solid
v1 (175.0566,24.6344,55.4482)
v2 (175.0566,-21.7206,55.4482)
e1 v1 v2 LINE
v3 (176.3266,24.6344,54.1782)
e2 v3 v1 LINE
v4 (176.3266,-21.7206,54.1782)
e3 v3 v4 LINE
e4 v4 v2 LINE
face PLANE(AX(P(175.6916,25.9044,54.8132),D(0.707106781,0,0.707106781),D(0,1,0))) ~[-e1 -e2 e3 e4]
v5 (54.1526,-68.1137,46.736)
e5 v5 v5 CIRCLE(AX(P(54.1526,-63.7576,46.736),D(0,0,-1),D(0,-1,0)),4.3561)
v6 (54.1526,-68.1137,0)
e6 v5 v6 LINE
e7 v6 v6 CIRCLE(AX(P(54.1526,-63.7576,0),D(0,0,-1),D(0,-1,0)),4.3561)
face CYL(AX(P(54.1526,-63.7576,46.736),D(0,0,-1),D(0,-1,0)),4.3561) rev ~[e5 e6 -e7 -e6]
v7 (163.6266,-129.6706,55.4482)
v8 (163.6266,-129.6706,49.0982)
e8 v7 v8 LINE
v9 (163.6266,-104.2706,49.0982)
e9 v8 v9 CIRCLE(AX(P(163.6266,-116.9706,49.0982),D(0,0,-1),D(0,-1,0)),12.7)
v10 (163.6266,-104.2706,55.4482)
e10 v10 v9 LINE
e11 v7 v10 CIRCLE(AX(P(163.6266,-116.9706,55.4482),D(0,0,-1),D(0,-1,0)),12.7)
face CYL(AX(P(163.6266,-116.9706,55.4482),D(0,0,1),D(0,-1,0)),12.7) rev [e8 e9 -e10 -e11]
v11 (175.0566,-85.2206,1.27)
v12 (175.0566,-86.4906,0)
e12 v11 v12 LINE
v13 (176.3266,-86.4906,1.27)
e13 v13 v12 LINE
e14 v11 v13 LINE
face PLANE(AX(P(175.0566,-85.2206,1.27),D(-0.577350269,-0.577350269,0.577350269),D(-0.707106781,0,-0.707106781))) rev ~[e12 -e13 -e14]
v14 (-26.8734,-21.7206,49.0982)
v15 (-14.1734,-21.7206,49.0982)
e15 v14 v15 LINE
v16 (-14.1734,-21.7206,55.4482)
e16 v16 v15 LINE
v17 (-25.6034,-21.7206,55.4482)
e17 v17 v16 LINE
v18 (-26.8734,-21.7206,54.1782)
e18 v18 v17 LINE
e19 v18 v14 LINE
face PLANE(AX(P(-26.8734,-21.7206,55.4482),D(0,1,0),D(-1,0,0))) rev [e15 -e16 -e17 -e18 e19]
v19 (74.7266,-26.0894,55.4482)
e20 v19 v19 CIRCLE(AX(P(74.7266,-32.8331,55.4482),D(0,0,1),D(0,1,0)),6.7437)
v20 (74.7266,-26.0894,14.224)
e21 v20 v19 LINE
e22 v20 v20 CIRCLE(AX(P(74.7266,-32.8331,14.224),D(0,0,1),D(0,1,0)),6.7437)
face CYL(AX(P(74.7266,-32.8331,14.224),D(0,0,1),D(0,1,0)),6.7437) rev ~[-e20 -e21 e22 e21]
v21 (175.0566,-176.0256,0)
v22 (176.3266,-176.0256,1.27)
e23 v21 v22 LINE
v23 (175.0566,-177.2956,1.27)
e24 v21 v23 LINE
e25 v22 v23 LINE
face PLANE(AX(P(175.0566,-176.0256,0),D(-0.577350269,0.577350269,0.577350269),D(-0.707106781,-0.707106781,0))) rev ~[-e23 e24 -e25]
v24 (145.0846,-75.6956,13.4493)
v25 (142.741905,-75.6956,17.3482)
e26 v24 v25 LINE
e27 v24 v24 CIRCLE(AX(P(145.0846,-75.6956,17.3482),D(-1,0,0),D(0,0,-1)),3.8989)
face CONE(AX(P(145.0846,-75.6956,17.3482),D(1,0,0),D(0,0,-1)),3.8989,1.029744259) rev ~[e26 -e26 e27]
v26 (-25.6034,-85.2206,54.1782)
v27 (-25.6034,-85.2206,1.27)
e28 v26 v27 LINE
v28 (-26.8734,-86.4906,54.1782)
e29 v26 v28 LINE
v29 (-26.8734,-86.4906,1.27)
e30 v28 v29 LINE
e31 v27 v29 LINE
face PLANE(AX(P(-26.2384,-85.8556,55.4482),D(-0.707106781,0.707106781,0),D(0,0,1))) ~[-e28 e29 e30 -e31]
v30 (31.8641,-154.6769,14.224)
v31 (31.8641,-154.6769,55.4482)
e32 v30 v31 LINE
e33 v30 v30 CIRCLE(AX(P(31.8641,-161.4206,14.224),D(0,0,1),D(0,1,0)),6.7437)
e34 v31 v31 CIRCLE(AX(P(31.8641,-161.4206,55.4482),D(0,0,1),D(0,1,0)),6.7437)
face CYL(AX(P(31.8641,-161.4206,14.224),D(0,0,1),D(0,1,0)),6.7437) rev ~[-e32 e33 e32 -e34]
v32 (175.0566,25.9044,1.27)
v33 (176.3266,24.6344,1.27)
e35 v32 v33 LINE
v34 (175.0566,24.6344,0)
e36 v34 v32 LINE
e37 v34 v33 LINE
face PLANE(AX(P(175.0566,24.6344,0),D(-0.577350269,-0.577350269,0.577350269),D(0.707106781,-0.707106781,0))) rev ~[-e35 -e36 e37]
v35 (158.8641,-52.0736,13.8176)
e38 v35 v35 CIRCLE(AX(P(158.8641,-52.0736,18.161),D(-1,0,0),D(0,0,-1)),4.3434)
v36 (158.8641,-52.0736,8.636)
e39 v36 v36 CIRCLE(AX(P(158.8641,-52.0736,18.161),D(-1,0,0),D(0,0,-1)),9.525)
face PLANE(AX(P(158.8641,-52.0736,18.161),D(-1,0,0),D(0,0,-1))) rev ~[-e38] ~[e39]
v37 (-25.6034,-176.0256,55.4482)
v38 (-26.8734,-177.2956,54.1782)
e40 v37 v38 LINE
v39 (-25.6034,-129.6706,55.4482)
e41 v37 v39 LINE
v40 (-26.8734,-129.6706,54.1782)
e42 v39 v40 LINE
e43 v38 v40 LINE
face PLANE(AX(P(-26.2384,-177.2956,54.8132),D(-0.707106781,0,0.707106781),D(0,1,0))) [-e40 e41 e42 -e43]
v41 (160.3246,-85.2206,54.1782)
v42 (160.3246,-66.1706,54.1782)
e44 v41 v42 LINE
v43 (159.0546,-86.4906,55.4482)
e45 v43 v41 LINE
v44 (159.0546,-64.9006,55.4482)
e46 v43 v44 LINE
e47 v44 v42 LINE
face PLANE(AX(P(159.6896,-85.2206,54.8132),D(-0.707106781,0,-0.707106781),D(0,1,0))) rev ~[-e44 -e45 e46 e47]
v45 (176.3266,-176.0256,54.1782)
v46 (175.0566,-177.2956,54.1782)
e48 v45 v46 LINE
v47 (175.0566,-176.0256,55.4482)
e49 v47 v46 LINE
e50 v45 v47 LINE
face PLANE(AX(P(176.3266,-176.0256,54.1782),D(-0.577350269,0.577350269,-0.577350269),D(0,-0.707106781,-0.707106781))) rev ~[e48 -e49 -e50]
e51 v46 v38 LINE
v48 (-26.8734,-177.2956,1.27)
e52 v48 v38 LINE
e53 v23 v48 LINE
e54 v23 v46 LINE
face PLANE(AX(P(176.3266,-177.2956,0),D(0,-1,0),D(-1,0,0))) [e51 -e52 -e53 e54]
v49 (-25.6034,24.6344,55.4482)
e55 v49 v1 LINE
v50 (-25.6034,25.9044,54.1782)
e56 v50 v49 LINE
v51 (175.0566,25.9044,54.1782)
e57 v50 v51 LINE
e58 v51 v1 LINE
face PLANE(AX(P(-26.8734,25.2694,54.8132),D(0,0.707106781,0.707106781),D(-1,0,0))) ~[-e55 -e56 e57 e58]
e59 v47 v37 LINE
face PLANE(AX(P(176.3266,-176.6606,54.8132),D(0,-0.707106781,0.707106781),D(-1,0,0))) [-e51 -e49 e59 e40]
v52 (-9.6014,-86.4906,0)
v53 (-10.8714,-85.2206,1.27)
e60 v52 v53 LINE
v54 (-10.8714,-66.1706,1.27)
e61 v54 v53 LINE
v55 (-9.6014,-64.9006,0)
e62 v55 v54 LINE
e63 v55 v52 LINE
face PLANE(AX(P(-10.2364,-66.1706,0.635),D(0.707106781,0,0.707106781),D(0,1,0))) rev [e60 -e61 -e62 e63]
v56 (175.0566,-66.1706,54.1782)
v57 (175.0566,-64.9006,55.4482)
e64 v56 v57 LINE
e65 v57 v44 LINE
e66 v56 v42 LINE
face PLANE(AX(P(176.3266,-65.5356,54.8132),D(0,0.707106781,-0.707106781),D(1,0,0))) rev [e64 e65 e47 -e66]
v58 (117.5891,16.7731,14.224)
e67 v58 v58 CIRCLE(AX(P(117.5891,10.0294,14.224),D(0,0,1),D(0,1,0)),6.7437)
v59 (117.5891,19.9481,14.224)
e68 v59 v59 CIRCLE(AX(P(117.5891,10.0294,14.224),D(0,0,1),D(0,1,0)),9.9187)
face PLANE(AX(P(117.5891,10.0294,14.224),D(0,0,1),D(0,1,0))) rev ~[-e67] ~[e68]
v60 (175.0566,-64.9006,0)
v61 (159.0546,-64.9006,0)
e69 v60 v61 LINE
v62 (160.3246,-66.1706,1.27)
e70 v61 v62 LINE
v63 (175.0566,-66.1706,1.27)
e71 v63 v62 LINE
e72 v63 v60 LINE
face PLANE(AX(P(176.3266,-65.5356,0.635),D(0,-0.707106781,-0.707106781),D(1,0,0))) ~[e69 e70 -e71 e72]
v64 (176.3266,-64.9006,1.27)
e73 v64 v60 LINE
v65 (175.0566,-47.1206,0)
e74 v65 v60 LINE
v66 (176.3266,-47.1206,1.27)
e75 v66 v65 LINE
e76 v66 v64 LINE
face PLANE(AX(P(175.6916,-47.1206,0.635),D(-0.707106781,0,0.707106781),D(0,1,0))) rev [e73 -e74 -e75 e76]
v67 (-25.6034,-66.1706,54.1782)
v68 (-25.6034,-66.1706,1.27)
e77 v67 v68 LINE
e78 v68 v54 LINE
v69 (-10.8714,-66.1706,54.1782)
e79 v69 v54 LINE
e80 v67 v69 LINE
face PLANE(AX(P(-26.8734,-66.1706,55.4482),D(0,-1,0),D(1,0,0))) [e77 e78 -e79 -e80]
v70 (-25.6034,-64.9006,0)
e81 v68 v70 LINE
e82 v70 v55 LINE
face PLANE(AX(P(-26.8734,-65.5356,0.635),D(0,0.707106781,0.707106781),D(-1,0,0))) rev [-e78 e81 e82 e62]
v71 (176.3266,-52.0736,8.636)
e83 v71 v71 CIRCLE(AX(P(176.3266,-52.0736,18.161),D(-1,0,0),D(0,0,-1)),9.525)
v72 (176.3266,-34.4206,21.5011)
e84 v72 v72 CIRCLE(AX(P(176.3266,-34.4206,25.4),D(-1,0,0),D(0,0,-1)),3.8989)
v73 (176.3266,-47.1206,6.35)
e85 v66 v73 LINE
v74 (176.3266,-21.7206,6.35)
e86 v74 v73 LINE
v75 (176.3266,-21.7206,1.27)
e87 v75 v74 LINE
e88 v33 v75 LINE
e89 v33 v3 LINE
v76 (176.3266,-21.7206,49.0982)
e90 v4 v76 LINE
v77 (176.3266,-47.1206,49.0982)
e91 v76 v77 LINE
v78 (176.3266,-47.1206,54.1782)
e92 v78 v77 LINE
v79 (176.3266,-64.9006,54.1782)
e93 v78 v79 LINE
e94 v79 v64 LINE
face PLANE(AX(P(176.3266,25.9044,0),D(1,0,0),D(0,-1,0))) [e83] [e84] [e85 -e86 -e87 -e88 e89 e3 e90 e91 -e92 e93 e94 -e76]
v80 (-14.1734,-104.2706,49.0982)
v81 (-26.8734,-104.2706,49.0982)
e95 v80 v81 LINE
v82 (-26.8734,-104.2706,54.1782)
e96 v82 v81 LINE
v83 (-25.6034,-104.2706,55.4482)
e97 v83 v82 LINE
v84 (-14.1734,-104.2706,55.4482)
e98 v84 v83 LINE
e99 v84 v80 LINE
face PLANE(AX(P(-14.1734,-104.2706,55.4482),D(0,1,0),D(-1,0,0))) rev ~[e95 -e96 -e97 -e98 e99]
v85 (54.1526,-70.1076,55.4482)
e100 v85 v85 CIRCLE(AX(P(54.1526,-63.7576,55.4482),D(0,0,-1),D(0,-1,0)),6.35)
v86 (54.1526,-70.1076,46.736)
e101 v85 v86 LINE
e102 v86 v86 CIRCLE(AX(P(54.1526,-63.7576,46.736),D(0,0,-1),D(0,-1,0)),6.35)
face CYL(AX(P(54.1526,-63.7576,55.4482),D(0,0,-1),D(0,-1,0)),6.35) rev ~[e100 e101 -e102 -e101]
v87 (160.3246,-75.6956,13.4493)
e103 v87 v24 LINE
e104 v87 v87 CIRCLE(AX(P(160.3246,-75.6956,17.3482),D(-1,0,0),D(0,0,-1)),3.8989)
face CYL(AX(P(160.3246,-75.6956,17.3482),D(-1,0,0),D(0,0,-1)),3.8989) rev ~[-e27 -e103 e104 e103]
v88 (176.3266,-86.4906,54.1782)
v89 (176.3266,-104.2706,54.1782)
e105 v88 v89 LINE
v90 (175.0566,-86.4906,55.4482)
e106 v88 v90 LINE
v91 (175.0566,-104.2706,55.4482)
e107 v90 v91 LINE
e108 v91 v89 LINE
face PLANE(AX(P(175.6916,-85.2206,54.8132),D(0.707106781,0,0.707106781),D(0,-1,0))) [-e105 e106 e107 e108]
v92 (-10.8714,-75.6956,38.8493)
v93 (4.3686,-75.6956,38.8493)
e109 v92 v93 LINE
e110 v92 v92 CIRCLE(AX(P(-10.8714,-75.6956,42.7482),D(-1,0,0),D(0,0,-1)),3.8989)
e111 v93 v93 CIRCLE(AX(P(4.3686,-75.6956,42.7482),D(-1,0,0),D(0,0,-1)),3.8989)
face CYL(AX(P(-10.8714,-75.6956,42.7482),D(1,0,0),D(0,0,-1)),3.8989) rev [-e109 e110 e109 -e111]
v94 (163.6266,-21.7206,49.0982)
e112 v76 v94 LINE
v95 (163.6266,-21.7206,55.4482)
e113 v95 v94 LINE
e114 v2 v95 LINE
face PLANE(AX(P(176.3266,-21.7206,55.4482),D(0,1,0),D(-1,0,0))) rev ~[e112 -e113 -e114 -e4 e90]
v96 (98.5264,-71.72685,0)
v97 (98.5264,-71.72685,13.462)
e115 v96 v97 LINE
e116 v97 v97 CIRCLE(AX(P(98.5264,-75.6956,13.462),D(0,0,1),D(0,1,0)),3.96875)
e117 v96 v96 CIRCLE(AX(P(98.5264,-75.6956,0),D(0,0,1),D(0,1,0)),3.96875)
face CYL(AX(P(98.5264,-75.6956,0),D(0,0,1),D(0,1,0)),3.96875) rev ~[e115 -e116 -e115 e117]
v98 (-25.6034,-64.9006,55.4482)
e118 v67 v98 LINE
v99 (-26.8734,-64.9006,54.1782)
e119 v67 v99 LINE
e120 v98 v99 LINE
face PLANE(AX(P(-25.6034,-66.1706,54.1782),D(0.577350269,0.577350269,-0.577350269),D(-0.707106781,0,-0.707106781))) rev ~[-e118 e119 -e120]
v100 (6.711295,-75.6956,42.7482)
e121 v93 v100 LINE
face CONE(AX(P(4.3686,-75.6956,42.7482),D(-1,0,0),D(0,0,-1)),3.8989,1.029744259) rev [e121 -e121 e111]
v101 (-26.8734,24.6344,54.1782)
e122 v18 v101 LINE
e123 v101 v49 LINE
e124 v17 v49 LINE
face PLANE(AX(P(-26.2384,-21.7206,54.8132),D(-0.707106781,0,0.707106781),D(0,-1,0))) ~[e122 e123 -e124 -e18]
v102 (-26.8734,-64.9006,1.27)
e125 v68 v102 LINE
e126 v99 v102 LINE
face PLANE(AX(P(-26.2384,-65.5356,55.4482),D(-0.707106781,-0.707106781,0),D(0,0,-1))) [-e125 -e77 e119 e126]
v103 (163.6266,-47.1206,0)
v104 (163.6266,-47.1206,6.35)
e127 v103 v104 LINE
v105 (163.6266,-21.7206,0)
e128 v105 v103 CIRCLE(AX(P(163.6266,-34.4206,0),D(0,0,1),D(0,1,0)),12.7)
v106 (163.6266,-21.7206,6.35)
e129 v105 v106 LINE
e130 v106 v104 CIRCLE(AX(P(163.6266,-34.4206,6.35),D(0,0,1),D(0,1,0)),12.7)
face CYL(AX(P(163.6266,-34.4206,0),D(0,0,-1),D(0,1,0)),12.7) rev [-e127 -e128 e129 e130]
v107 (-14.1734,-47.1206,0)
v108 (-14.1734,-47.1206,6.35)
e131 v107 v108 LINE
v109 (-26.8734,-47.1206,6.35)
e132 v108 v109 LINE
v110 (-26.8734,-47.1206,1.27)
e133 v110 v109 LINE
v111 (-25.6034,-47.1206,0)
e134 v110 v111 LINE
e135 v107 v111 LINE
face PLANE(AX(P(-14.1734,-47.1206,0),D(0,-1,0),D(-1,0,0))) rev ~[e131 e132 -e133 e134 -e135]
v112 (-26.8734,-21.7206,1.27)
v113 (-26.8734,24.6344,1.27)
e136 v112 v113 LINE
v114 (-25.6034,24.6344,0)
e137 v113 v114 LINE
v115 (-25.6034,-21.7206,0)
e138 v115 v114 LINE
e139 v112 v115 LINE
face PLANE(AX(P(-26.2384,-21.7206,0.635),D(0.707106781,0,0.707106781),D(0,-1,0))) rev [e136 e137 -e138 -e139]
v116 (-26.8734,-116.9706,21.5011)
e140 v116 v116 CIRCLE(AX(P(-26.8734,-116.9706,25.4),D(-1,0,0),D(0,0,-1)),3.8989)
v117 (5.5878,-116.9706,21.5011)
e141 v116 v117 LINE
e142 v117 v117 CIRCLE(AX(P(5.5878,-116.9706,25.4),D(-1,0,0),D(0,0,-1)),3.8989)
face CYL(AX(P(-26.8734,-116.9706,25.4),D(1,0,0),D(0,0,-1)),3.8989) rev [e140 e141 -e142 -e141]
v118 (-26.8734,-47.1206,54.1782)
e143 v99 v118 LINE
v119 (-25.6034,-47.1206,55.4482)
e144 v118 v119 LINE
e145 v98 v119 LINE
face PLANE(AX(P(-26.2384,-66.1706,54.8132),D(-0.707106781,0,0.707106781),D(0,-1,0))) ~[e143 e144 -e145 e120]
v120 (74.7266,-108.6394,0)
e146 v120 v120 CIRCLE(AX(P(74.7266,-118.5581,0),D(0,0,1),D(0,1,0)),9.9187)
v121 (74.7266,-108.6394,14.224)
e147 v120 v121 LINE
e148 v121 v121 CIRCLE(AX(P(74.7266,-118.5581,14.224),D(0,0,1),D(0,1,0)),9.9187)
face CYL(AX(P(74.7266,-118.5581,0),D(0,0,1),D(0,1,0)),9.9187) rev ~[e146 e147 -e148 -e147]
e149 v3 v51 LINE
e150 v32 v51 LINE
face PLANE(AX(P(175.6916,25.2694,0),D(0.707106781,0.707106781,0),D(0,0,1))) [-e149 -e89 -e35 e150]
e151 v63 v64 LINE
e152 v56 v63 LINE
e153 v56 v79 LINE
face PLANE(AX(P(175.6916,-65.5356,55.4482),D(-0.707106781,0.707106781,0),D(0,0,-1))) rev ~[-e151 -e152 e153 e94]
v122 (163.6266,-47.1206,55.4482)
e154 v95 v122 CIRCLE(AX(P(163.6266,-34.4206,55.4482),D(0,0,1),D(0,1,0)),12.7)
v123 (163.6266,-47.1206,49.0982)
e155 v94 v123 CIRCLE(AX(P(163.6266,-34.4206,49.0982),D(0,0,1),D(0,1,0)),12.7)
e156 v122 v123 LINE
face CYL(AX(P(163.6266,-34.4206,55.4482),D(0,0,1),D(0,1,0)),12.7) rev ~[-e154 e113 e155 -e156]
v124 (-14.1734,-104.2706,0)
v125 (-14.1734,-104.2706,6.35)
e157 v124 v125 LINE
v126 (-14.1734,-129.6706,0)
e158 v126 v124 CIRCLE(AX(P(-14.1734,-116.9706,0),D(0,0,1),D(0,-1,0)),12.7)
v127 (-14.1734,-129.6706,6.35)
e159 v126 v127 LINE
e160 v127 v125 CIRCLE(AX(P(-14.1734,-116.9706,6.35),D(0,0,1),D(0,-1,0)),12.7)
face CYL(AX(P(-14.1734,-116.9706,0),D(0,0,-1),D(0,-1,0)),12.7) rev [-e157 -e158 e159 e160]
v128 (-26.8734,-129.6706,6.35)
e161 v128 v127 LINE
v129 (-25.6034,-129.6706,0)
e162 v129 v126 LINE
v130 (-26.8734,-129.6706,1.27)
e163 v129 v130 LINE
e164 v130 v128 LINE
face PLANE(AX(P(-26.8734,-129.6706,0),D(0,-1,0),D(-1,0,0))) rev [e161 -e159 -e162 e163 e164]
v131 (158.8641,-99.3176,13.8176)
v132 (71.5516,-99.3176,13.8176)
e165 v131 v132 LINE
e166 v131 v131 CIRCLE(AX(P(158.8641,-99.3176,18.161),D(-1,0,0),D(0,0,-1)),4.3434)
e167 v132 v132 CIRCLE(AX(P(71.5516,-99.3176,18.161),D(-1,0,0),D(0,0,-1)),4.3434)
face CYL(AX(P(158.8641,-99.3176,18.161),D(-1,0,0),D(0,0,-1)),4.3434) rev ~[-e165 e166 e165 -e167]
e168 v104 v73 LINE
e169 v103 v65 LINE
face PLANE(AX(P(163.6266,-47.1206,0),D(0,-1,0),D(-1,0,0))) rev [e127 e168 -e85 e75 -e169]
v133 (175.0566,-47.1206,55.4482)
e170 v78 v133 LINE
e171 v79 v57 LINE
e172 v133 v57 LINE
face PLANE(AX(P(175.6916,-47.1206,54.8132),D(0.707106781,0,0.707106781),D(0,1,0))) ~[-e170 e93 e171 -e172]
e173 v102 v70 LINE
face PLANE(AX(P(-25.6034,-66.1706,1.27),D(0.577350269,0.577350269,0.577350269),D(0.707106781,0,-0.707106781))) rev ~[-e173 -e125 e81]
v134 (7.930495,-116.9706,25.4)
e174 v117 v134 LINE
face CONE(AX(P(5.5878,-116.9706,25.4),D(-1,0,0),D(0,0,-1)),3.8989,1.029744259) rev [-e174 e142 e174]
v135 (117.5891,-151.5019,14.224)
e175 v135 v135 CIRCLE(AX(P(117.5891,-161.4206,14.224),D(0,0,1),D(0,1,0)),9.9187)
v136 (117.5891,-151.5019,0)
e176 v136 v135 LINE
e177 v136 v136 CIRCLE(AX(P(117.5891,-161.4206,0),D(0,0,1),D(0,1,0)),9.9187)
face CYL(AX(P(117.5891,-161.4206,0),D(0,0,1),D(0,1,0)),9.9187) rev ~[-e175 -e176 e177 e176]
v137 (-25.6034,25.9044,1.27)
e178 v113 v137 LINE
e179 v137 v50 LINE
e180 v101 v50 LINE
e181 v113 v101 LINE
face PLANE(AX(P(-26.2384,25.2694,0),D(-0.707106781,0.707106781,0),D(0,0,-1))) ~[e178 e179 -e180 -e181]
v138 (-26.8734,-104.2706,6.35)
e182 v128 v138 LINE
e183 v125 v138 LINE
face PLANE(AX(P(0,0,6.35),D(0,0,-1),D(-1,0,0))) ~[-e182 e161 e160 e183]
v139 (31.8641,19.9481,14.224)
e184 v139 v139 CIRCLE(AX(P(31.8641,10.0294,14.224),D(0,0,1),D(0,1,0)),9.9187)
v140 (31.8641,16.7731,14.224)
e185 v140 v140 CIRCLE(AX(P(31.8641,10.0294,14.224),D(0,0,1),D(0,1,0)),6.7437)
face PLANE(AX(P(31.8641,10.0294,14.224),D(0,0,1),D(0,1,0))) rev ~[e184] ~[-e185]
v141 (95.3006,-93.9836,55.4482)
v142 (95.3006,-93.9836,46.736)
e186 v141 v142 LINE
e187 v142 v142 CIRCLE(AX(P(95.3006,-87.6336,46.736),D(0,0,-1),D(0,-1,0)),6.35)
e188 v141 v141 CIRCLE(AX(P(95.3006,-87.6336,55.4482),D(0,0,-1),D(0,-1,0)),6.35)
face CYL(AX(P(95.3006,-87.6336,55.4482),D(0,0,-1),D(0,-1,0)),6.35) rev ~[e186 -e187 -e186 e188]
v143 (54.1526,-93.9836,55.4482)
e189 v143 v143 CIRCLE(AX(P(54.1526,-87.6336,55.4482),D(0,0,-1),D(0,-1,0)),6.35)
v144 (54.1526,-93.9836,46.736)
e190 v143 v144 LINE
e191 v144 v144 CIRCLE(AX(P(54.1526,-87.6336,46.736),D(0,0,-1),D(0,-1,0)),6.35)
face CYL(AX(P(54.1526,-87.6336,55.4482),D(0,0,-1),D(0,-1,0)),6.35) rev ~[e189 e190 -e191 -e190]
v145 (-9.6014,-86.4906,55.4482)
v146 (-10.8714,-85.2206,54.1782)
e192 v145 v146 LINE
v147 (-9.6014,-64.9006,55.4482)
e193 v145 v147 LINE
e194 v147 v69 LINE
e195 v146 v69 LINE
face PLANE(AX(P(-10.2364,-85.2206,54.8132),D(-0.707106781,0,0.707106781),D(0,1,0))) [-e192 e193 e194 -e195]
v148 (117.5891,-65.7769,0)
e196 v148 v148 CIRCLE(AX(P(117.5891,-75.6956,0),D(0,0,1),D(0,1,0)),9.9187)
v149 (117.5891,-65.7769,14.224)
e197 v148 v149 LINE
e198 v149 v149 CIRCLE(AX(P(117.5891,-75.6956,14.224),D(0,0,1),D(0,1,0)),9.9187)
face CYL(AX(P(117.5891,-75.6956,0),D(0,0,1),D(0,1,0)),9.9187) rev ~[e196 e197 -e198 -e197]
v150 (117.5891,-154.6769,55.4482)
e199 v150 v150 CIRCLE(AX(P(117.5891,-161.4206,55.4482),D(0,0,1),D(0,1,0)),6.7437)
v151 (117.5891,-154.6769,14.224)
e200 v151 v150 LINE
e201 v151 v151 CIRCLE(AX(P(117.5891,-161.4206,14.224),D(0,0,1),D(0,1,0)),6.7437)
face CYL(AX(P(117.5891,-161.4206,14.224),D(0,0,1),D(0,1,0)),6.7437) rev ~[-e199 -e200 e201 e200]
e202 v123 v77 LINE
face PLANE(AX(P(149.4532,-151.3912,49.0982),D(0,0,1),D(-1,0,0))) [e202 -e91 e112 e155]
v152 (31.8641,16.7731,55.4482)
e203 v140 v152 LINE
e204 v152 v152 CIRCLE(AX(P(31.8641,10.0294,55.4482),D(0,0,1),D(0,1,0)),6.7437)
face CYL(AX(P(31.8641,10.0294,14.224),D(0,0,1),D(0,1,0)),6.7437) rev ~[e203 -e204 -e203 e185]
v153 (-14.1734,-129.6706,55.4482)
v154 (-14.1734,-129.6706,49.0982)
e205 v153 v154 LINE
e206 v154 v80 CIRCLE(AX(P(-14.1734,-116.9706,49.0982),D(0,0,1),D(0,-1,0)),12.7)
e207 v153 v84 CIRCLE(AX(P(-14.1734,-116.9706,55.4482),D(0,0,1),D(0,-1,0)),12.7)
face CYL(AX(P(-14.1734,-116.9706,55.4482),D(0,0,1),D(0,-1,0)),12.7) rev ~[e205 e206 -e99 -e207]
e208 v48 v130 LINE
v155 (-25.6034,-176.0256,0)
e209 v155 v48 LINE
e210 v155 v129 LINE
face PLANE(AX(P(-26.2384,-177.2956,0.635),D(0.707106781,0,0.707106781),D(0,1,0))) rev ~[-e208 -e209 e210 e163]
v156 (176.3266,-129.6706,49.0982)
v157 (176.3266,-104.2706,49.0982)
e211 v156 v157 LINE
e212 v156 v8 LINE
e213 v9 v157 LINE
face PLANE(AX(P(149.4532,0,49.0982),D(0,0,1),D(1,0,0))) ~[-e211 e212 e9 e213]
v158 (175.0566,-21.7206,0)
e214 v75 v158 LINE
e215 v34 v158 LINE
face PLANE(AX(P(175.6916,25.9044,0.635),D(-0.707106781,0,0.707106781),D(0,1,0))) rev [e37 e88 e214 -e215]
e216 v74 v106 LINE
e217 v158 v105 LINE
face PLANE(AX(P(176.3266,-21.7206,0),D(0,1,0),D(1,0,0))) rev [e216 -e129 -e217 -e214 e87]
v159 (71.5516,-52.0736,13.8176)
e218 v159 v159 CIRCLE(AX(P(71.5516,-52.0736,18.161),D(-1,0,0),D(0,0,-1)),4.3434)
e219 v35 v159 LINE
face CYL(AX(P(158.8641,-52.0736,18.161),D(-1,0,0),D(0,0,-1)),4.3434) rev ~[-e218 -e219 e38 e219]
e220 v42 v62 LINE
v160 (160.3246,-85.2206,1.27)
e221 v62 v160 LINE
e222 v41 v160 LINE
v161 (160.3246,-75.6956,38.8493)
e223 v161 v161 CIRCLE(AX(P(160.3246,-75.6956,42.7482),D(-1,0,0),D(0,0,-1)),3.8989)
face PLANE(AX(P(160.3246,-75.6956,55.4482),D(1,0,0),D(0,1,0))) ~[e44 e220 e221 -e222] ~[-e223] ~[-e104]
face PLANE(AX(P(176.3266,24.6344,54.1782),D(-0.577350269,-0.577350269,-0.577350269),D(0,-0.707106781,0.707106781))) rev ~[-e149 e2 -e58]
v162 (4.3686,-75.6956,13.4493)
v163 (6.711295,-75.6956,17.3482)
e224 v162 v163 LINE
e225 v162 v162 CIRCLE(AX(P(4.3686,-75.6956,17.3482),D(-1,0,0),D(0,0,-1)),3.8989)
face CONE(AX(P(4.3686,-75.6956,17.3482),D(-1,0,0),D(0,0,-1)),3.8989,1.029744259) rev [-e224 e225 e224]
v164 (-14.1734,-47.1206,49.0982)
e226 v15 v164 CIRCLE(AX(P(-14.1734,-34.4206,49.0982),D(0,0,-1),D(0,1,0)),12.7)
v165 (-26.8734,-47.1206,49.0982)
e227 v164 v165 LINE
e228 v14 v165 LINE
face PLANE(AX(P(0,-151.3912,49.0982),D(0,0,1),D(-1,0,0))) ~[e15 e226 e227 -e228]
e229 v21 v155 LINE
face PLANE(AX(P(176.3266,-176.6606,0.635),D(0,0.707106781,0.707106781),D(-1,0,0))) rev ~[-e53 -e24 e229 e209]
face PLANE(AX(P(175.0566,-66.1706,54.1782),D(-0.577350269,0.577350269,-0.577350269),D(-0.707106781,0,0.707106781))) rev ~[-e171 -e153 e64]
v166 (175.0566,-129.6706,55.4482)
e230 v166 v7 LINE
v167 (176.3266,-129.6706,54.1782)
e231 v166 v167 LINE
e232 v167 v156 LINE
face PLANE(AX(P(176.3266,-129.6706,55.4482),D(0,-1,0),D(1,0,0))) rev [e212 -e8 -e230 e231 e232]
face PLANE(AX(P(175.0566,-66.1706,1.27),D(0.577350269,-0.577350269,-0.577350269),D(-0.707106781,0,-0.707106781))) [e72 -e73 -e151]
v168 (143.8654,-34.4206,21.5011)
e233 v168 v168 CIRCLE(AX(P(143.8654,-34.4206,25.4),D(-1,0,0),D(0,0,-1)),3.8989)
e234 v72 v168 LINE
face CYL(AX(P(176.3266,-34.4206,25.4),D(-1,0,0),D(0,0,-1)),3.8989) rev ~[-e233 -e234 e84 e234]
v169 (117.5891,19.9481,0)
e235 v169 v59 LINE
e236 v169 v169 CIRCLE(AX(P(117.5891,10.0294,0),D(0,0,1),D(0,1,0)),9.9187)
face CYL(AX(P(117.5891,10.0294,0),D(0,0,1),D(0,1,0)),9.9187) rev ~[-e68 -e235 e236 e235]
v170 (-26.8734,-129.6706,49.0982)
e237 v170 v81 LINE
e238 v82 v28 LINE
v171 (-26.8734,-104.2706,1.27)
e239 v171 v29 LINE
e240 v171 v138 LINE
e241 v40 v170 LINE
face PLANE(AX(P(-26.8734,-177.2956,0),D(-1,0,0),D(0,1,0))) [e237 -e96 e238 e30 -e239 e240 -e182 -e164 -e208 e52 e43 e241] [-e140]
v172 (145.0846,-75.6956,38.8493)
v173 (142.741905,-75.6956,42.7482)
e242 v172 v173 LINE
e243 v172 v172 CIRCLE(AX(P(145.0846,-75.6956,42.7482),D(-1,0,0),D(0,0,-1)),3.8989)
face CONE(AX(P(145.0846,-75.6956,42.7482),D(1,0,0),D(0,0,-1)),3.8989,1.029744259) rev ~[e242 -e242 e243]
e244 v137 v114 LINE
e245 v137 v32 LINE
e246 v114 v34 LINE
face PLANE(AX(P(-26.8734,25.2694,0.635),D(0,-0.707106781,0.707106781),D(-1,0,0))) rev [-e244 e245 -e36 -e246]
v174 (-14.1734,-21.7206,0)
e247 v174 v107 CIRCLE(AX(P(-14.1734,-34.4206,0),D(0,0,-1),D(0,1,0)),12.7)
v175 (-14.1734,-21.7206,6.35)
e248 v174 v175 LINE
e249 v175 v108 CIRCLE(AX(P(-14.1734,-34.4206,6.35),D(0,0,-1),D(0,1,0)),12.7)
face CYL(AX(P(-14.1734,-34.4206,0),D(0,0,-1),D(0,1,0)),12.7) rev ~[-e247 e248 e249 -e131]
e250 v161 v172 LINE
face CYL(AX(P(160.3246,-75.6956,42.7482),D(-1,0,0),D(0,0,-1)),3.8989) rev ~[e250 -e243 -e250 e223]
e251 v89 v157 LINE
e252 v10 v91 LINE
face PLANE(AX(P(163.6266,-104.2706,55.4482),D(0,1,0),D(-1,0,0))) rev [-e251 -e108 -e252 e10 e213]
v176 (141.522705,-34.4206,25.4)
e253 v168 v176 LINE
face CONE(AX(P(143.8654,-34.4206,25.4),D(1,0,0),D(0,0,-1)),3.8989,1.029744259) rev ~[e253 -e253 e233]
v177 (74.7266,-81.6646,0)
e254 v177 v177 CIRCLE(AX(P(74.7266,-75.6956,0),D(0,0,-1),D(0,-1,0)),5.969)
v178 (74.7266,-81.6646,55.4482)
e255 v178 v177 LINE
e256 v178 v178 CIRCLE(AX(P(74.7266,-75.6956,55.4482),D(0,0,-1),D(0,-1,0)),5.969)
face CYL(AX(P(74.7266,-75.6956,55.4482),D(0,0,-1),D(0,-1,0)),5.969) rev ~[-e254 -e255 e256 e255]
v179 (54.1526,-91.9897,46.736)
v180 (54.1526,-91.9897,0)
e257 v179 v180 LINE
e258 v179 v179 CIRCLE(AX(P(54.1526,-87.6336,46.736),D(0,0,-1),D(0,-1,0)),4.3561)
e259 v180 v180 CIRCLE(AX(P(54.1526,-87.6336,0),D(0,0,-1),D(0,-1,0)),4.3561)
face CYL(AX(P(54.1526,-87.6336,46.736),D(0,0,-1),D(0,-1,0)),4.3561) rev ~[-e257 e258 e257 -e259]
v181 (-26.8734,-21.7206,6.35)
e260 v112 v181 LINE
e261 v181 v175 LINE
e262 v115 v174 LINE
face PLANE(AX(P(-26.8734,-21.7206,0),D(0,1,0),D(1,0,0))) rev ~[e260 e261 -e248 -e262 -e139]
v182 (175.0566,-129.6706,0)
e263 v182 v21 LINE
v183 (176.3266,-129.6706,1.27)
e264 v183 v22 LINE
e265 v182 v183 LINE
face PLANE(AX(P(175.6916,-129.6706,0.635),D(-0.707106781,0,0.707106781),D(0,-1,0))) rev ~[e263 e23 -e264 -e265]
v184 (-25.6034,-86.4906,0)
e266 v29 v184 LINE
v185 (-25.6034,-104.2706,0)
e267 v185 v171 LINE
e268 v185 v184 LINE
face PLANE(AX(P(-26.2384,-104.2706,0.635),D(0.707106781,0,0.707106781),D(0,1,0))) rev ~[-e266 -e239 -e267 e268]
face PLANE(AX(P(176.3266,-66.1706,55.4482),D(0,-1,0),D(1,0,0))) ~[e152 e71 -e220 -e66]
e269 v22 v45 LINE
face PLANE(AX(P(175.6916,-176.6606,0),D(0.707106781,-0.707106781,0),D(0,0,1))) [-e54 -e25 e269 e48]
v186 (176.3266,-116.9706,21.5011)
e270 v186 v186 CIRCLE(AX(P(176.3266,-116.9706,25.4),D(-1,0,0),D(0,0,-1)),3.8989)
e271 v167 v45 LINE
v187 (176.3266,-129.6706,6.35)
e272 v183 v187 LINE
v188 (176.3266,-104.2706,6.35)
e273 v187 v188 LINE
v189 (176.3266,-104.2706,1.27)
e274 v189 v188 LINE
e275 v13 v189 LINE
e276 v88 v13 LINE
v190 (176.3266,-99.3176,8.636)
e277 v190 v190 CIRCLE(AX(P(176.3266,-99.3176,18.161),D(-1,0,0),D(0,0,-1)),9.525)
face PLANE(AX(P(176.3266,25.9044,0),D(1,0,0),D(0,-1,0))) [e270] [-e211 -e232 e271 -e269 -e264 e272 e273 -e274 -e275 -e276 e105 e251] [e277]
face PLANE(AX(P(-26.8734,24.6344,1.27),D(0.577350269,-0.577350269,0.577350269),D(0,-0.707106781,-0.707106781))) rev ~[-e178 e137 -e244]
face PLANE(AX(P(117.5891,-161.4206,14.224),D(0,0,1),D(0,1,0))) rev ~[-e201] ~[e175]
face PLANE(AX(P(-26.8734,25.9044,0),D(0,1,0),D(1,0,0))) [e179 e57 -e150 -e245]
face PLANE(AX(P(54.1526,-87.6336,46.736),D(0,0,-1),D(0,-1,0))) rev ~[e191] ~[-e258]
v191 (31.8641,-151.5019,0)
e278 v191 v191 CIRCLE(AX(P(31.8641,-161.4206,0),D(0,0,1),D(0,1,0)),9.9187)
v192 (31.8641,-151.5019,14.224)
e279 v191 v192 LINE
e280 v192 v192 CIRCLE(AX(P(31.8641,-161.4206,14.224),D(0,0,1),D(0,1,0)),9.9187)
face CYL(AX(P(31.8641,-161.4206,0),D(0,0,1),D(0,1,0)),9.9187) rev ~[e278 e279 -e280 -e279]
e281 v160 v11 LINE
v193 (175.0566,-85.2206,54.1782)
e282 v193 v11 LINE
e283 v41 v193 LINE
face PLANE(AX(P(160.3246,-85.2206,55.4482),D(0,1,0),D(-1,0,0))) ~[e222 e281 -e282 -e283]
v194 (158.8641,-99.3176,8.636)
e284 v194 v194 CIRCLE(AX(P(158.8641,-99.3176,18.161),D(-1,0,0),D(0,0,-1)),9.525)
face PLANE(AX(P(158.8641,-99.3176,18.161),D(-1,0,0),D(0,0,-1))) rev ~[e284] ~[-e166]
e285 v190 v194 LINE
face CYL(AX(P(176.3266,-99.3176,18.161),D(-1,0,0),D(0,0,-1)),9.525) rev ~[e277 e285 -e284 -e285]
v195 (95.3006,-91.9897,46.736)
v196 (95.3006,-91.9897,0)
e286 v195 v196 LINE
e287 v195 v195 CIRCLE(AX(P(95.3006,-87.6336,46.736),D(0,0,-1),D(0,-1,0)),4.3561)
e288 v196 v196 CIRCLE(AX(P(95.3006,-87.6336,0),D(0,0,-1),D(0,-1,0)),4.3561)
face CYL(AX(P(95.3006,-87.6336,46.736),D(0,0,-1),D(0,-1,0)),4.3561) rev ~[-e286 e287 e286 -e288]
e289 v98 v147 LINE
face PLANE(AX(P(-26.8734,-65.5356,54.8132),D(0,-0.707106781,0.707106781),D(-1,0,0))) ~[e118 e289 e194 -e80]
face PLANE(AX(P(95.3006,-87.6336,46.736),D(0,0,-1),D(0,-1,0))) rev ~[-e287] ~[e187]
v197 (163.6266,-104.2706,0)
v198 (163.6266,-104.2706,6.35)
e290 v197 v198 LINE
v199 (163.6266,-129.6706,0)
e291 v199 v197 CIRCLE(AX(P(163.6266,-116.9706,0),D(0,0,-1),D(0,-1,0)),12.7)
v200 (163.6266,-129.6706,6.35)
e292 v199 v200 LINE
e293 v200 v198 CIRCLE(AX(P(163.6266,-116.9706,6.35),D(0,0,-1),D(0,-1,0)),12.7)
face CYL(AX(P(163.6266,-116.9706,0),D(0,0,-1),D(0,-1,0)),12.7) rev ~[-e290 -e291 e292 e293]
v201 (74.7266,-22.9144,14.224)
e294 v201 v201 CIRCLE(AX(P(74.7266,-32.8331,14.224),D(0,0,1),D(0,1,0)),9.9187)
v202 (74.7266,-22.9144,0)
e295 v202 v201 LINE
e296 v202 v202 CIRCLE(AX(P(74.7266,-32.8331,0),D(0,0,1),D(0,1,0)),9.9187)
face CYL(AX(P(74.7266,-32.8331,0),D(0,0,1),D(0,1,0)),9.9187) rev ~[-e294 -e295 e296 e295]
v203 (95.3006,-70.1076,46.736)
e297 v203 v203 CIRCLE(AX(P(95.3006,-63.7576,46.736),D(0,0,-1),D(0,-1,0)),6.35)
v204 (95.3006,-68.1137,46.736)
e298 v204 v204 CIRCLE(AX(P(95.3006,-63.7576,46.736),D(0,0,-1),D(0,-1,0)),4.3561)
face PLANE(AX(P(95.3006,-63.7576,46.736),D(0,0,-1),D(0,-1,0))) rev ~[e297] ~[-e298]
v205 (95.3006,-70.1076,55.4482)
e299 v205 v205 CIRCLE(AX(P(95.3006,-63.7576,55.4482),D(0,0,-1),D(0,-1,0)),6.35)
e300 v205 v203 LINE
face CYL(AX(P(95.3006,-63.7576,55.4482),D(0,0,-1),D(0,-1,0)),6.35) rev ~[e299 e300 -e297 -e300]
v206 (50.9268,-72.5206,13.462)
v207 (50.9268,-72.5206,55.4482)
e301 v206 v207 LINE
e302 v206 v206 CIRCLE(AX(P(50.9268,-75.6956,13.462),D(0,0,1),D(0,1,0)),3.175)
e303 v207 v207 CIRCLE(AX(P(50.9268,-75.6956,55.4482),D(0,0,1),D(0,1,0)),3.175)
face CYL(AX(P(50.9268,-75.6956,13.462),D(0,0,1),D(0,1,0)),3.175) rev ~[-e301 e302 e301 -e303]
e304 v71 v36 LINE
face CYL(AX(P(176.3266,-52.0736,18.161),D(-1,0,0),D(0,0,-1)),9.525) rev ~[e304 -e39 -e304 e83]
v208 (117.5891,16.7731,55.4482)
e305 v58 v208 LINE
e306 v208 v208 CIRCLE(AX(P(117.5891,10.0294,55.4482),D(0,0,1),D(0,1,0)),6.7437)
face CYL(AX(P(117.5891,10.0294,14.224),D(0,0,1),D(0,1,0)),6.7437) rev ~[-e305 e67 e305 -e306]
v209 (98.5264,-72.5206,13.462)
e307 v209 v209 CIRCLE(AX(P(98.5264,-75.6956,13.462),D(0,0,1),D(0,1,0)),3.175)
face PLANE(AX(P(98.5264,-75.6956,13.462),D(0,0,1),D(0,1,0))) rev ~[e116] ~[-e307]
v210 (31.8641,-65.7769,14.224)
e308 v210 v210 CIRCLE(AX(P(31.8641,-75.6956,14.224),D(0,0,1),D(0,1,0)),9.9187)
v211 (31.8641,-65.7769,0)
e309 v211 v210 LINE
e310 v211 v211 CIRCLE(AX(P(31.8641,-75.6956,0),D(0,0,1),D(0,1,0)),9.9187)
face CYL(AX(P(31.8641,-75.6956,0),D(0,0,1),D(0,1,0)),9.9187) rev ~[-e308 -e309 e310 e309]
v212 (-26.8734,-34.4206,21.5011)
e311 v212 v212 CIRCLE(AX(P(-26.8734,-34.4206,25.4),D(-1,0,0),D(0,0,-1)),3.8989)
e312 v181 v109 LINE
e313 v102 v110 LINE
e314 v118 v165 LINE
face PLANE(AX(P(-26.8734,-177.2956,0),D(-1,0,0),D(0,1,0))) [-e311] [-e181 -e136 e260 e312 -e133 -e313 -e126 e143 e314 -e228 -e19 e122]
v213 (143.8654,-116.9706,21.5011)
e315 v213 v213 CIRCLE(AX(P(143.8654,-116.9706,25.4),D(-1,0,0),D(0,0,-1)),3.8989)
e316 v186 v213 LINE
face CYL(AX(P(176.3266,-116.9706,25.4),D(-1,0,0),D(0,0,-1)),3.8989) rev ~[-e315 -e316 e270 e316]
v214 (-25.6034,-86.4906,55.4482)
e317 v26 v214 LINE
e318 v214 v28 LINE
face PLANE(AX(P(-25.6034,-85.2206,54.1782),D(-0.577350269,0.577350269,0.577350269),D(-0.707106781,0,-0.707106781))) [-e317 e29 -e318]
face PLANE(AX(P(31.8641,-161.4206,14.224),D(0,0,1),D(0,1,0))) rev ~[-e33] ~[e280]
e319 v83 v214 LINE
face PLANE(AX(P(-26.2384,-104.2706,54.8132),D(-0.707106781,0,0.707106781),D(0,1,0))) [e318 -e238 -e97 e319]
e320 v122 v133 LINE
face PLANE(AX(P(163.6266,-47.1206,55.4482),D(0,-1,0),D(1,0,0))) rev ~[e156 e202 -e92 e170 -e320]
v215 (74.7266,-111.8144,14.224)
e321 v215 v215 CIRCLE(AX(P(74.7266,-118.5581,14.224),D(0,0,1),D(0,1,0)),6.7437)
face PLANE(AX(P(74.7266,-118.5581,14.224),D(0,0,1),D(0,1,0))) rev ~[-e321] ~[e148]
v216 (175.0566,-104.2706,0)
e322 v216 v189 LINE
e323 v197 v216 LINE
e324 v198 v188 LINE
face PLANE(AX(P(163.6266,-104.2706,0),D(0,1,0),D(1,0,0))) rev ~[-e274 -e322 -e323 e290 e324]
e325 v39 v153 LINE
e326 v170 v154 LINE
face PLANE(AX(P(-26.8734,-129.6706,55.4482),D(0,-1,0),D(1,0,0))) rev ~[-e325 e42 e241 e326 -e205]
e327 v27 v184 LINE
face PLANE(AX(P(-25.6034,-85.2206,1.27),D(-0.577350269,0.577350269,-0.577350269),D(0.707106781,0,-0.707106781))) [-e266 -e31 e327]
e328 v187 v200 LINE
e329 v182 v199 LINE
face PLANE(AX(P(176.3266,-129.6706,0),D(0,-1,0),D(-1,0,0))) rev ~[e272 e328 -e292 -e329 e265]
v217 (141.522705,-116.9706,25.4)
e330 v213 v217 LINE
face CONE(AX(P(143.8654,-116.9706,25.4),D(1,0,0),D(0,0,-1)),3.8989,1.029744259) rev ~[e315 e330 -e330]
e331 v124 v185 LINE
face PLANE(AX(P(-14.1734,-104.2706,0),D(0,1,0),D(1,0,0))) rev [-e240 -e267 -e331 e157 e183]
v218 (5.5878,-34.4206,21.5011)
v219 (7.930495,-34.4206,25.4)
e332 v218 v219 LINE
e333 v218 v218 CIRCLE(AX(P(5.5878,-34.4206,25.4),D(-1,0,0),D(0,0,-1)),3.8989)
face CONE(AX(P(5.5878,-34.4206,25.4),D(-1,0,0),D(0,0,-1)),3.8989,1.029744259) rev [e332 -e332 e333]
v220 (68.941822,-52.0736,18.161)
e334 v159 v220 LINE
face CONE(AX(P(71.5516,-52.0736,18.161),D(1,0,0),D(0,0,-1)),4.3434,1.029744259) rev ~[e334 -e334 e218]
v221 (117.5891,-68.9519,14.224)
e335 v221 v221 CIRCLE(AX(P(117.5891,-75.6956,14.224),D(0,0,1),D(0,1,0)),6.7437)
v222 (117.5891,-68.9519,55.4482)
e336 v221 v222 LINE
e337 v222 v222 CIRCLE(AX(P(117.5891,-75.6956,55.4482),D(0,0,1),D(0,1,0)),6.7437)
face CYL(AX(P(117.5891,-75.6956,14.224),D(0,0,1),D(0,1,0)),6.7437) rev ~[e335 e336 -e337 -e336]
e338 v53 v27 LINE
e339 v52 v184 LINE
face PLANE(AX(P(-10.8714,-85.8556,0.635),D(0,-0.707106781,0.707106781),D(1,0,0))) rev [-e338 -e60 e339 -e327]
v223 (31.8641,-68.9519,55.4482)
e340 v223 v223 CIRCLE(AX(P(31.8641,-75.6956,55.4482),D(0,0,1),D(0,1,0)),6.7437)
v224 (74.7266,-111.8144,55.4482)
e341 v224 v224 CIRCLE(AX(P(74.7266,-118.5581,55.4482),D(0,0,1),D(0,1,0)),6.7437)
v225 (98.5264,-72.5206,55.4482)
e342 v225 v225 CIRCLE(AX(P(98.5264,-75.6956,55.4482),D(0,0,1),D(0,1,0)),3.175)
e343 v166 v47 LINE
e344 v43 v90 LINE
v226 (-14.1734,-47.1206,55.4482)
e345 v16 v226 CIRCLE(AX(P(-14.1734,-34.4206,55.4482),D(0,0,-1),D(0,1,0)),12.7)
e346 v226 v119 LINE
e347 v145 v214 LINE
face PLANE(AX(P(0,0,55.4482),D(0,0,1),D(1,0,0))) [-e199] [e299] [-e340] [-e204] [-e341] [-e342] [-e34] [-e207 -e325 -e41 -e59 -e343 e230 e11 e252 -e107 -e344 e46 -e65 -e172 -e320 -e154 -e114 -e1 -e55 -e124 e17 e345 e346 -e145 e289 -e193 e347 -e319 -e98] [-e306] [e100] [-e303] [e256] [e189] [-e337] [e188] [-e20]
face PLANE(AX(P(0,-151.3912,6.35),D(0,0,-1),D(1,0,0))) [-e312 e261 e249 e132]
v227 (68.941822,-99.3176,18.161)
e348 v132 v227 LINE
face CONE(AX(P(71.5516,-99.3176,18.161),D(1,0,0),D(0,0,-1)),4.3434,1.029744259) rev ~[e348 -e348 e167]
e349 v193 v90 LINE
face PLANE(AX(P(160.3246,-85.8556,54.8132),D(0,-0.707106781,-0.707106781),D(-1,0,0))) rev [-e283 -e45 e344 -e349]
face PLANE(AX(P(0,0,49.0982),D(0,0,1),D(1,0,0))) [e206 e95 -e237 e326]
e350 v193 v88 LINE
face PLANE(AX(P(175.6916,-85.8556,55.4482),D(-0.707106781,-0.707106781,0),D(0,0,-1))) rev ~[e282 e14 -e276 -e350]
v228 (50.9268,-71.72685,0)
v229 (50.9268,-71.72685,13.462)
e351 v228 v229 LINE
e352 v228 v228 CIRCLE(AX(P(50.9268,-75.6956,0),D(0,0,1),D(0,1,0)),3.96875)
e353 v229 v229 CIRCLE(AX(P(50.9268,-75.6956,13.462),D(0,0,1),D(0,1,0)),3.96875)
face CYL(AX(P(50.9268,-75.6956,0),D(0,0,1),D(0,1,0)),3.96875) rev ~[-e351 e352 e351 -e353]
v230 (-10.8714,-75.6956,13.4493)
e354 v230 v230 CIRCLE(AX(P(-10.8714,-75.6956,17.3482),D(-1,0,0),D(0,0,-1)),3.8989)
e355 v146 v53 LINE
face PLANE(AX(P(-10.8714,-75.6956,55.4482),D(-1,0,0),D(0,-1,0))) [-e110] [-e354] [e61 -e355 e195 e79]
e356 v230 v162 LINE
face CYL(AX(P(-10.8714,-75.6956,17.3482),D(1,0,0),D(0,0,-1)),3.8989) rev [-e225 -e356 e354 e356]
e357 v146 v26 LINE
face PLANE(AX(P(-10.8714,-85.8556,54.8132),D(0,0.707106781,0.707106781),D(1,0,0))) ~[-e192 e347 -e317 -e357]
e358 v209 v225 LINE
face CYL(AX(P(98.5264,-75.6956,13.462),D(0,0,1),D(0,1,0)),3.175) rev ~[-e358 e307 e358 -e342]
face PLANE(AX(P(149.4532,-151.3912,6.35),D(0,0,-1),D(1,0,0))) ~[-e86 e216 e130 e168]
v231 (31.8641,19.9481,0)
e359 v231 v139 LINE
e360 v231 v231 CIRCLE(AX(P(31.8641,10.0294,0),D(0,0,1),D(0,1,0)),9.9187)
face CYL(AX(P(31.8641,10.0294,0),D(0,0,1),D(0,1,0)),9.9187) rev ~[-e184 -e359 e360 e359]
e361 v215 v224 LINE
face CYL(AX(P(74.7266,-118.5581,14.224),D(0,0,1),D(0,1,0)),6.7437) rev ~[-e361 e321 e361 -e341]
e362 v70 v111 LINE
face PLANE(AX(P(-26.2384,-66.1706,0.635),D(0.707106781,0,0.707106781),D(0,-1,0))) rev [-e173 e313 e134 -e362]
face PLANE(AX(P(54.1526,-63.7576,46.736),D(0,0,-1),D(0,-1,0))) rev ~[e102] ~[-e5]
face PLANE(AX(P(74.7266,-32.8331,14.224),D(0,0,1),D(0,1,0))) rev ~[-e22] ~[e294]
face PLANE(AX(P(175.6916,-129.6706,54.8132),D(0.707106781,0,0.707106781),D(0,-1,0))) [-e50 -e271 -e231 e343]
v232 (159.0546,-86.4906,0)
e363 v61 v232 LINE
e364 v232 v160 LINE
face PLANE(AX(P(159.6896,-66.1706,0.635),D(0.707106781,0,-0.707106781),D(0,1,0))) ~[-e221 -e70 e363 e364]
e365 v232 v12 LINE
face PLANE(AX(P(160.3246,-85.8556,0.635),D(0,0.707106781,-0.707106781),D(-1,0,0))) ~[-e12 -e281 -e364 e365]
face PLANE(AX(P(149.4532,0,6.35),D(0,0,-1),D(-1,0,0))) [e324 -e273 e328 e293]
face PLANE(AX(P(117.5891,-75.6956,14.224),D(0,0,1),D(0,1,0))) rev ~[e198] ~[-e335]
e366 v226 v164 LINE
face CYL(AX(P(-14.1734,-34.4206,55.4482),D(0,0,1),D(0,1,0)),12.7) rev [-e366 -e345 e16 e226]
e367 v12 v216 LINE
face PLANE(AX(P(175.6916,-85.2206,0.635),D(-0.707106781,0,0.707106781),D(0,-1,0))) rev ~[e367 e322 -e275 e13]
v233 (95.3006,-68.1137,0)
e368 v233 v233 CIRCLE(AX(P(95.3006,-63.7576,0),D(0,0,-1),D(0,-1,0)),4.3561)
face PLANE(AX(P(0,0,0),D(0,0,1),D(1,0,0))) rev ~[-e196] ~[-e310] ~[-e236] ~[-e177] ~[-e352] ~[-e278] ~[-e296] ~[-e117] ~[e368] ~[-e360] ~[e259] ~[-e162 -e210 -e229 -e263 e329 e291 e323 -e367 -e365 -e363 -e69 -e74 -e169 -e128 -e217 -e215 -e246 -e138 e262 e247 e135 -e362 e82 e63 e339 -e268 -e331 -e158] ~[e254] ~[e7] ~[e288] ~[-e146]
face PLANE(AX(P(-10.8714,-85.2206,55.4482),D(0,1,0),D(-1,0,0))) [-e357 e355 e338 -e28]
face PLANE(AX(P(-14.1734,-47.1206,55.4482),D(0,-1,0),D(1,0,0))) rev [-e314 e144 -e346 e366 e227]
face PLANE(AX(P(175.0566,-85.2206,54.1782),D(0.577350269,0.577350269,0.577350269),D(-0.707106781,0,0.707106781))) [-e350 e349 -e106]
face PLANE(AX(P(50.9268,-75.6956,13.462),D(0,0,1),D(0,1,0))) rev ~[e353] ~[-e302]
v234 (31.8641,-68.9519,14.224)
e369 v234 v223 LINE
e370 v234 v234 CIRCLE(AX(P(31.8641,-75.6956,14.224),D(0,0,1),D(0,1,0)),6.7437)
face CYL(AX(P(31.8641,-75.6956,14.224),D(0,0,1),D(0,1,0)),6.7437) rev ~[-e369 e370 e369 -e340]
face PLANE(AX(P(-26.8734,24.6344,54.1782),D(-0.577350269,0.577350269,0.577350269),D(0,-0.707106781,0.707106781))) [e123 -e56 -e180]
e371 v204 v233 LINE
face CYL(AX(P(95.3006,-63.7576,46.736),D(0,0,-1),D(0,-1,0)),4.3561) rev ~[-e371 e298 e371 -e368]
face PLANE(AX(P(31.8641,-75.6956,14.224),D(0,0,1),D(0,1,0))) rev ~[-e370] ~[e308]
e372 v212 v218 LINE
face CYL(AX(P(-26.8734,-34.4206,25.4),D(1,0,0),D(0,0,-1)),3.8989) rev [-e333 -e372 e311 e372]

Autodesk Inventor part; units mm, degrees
sketch "Sketch1" plane through (0, 0, 0) normal (0, 0, 1) x (1, 0, 0)
  line L0 (-26.8734, 25.9044) -> (176.3266, 25.9044)
  line L1 (176.3266, 25.9044) -> (176.3266, -177.2956)
  line L2 (176.3266, -177.2956) -> (-26.8734, -177.2956)
  line L3 (-26.8734, -177.2956) -> (-26.8734, 25.9044)
  dimension "d0" = 203.2
  dimension "d1" = 203.2
extrude "Extrusion1" add sketch "Sketch1" along normal blind 55.4482
ref_plane "Work Plane1" through (74.7266, -177.2956, 0) normal (1, 0, 0) x (0, 0, -1)
ref_plane "Work Plane2" through (-26.8734, -75.6956, 55.4482) normal (0, 1, 0) x (1, 0, 0)
sketch "Sketch3" plane through (0, 0, 55.4482) normal (0, 0, 1) x (1, 0, 0)
  line L0 (-26.8734, -177.2956) -> (-26.8734, 25.9044) projected
  line L1 (-47.1934, -75.6956) -> (237.2866, -75.6956) projected
  line L2 (-26.8734, -66.1706) -> (-10.8714, -66.1706)
  line L3 (-10.8714, -66.1706) -> (-10.8714, -85.2206)
  line L4 (-10.8714, -85.2206) -> (-26.8734, -85.2206)
  line L5 (-26.8734, -85.2206) -> (-26.8734, -66.1706)
  dimension "d9" = 19.05
  dimension "d10" = 9.525
  dimension "d11" = 16.002
extrude "Extrusion3" cut sketch "Sketch3" against normal through all
mirror "Mirror2" about plane through (74.7266, -177.2956, 0) normal (1, 0, 0) of "Extrusion3"
sketch "Sketch6" plane through (0, 0, 55.4482) normal (0, 0, 1) x (1, 0, 0)
  line L0 (-26.8734, -177.2956) -> (-26.8734, -85.2206) projected
  line L1 (49.3266, -177.2956) -> (-26.8734, -177.2956) projected
  line L2 (-26.8734, -129.6706) -> (-14.1734, -129.6706)
  line L3 (-14.1734, -104.2706) -> (-26.8734, -104.2706)
  arc A0 (-14.1734, -129.6706) -> (-14.1734, -104.2706) centre (-14.1734, -116.9706) ccw
  dimension "d30" = 47.625
  dimension "d32" = 12.7
  dimension "d33" = 25.4
extrude "Extrusion4" cut sketch "Sketch6" against normal blind 6.35
mirror "Mirror3" about plane through (74.7266, -177.2956, 0) normal (1, 0, 0) of "Extrusion4"
mirror "Mirror4" about plane through (-26.8734, -75.6956, 55.4482) normal (0, 1, 0) of "Extrusion4", "Mirror3"
sketch "Sketch7" plane through (0, 0, 0) normal (0, 0, -1) x (-1, 0, 0)
  line L0 (-176.3266, -85.2206) -> (-176.3266, -177.2956) projected
  line L1 (-176.3266, -177.2956) -> (-100.1266, -177.2956) projected
  line L2 (-74.7266, -197.6156) -> (-74.7266, 86.8644) projected
  line L3 (-237.2866, -75.6956) -> (47.1934, -75.6956) projected
  point P0 (-117.5891, -161.4206)
  point P1 (-31.8641, -161.4206)
  point P2 (-117.5891, 10.0294)
  point P3 (-31.8641, 10.0294)
  point P4 (-117.5891, -75.6956)
  point P5 (-31.8641, -75.6956)
  point P6 (-74.7266, -118.5581)
  point P7 (-74.7266, -32.8331)
  dimension "d36" = 15.875
  dimension "d37" = 58.7375
hole "Hole3" at (117.5891, -161.4206, 0) at (31.8641, -161.4206, 0) at (117.5891, 10.0294, 0) at (31.8641, 10.0294, 0) at (117.5891, -75.6956, 0) at (31.8641, -75.6956, 0) at (74.7266, -118.5581, 0) at (74.7266, -32.8331, 0) direction (0, 0, 1) diameter 13.4874 end through all counterbore diameter 19.8374 counterbore depth 14.224
sketch "Sketch8" plane through (0, 0, 55.4482) normal (0, 0, 1) x (1, 0, 0)
  point P0 (74.7266, -75.6956)
hole "Hole4" at (74.7266, -75.6956, 55.4482) direction (0, 0, -1) diameter 11.938 end through all
sketch "Sketch9" plane through (0, 0, 55.4482) normal (0, 0, 1) x (1, 0, 0)
  circle A0 centre (74.7266, -75.6956) radius 5.969 projected
  line L0 (74.7266, 86.8644) -> (74.7266, -197.6156) projected
  line L1 (-47.1934, -75.6956) -> (237.2866, -75.6956) projected
  point P0 (54.1526, -87.6336)
  point P1 (95.3006, -87.6336)
  point P2 (54.1526, -63.7576)
  point P3 (95.3006, -63.7576)
  dimension "d52" = 20.574
  dimension "d53" = 11.938
hole "Hole5" at (54.1526, -87.6336, 55.4482) at (95.3006, -87.6336, 55.4482) at (54.1526, -63.7576, 55.4482) at (95.3006, -63.7576, 55.4482) direction (0, 0, -1) diameter 8.7122 end through all counterbore diameter 12.7 counterbore depth 8.7122
sketch "Sketch10" plane through (0, 0, 0) normal (0, 0, -1) x (-1, 0, 0)
  circle A0 centre (-74.7266, -75.6956) radius 5.969 projected
  line L0 (-74.7266, -197.6156) -> (-74.7266, 86.8644) projected
  point P0 (-98.5264, -75.6956)
  point P1 (-50.9268, -75.6956)
  dimension "d61" = 23.7998
hole "Hole6" at (98.5264, -75.6956, 0) at (50.9268, -75.6956, 0) direction (0, 0, 1) diameter 6.35 end through all counterbore diameter 7.9375 counterbore depth 13.462
sketch "Sketch11" plane through (176.3266, 25.9044, 55.4482) normal (1, 0, 0) x (0, 0, -1)
  line L0 (55.4482, 0) -> (55.4482, -92.075) projected
  line L1 (-16.6345, -101.6) -> (60.993, -101.6) projected
  point P0 (37.2872, -77.978)
  point P1 (37.2872, -125.222)
  dimension "d69" = 23.622
  dimension "d70" = 18.161
hole "Hole7" at (176.3266, -52.0736, 18.161) at (176.3266, -99.3176, 18.161) direction (-1, 0, 0) diameter 8.6868 depth 104.775 tip angle 118 counterbore diameter 19.05 counterbore depth 17.4625
sketch "Sketch12" plane through (176.3266, 25.9044, 55.4482) normal (1, 0, 0) x (0, 0, -1)
  line L0 (55.4482, 0) -> (55.4482, -92.075) projected
  line L1 (-16.6345, -101.6) -> (60.993, -101.6) projected
  point P0 (30.0482, -60.325)
  point P1 (30.0482, -142.875)
  dimension "d78" = 41.275
  dimension "d79" = 25.4
hole "Hole8" at (176.3266, -34.4206, 25.4) at (176.3266, -116.9706, 25.4) direction (-1, 0, 0) diameter 7.7978 depth 32.4612 tip angle 118 thread size "3/8-16 UNC" class "1B" standard "ANSI Unified Screw Threads"
mirror "Mirror5" about plane through (74.7266, -177.2956, 0) normal (1, 0, 0) of "Hole8"
sketch "Sketch13" plane through (160.3246, -85.2206, 0) normal (1, 0, 0) x (0, 0, -1)
  line L0 (-55.4482, 0) -> (-55.4482, 19.05) projected
  line L1 (-72.0827, 9.525) -> (5.5448, 9.525) projected
  point P0 (-42.7482, 9.525)
  point P1 (-17.3482, 9.525)
  dimension "d87" = 12.7
  dimension "d88" = 25.4
hole "Hole9" at (160.3246, -75.6956, 42.7482) at (160.3246, -75.6956, 17.3482) direction (-1, 0, 0) diameter 7.7978 depth 15.24 tip angle 118 thread size "3/8-16 UNC" class "1B" standard "ANSI Unified Screw Threads"
mirror "Mirror6" about plane through (74.7266, -177.2956, 0) normal (1, 0, 0) of "Hole9"
ref_plane "Work Plane3" through (0, 0, 27.7241) normal (0, 0, 1) x (1, 0, 0)
mirror "Mirror7" about plane through (0, 0, 27.7241) normal (0, 0, 1) of "Extrusion4", "Mirror3", "Mirror4"
chamfer "Chamfer1" distance 1.27 angle 45 39 edges at (74.7266, 25.9044, 55.4482) (176.3266, 25.9044, 27.7241) (74.7266, 25.9044, 0) (-26.8734, 25.9044, 27.7241) (-26.8734, 2.0919, 55.4482) (-26.8734, -56.6456, 55.4482) (-26.8734, -94.7456, 55.4482) (-26.8734, -153.4831, 55.4482) (74.7266, -177.2956, 55.4482) (176.3266, -153.4831, 55.4482) (176.3266, -94.7456, 55.4482) (176.3266, -56.6456, 55.4482) (176.3266, 2.0919, 55.4482) (176.3266, -177.2956, 27.7241) (176.3266, -153.4831, 0) (176.3266, -94.7456, 0) (176.3266, -56.6456, 0) (176.3266, 2.0919, 0) (-26.8734, 2.0919, 0) (-26.8734, -56.6456, 0) (-26.8734, -94.7456, 0) (-26.8734, -153.4831, 0) (74.7266, -177.2956, 0) (176.3266, -85.2206, 27.7241) (176.3266, -66.1706, 27.7241) (168.3256, -66.1706, 55.4482) (160.3246, -75.6956, 55.4482) (168.3256, -85.2206, 55.4482) (-10.8714, -75.6956, 55.4482) (-18.8724, -85.2206, 55.4482) (-18.8724, -66.1706, 55.4482) (-26.8734, -85.2206, 27.7241) (-26.8734, -66.1706, 27.7241) (-18.8724, -66.1706, 0) (-10.8714, -75.6956, 0) (-18.8724, -85.2206, 0) (168.3256, -85.2206, 0) (160.3246, -75.6956, 0) (168.3256, -66.1706, 0)
equation "\"d10\" = 0.5 * d9"
properties part number "topplate2"
